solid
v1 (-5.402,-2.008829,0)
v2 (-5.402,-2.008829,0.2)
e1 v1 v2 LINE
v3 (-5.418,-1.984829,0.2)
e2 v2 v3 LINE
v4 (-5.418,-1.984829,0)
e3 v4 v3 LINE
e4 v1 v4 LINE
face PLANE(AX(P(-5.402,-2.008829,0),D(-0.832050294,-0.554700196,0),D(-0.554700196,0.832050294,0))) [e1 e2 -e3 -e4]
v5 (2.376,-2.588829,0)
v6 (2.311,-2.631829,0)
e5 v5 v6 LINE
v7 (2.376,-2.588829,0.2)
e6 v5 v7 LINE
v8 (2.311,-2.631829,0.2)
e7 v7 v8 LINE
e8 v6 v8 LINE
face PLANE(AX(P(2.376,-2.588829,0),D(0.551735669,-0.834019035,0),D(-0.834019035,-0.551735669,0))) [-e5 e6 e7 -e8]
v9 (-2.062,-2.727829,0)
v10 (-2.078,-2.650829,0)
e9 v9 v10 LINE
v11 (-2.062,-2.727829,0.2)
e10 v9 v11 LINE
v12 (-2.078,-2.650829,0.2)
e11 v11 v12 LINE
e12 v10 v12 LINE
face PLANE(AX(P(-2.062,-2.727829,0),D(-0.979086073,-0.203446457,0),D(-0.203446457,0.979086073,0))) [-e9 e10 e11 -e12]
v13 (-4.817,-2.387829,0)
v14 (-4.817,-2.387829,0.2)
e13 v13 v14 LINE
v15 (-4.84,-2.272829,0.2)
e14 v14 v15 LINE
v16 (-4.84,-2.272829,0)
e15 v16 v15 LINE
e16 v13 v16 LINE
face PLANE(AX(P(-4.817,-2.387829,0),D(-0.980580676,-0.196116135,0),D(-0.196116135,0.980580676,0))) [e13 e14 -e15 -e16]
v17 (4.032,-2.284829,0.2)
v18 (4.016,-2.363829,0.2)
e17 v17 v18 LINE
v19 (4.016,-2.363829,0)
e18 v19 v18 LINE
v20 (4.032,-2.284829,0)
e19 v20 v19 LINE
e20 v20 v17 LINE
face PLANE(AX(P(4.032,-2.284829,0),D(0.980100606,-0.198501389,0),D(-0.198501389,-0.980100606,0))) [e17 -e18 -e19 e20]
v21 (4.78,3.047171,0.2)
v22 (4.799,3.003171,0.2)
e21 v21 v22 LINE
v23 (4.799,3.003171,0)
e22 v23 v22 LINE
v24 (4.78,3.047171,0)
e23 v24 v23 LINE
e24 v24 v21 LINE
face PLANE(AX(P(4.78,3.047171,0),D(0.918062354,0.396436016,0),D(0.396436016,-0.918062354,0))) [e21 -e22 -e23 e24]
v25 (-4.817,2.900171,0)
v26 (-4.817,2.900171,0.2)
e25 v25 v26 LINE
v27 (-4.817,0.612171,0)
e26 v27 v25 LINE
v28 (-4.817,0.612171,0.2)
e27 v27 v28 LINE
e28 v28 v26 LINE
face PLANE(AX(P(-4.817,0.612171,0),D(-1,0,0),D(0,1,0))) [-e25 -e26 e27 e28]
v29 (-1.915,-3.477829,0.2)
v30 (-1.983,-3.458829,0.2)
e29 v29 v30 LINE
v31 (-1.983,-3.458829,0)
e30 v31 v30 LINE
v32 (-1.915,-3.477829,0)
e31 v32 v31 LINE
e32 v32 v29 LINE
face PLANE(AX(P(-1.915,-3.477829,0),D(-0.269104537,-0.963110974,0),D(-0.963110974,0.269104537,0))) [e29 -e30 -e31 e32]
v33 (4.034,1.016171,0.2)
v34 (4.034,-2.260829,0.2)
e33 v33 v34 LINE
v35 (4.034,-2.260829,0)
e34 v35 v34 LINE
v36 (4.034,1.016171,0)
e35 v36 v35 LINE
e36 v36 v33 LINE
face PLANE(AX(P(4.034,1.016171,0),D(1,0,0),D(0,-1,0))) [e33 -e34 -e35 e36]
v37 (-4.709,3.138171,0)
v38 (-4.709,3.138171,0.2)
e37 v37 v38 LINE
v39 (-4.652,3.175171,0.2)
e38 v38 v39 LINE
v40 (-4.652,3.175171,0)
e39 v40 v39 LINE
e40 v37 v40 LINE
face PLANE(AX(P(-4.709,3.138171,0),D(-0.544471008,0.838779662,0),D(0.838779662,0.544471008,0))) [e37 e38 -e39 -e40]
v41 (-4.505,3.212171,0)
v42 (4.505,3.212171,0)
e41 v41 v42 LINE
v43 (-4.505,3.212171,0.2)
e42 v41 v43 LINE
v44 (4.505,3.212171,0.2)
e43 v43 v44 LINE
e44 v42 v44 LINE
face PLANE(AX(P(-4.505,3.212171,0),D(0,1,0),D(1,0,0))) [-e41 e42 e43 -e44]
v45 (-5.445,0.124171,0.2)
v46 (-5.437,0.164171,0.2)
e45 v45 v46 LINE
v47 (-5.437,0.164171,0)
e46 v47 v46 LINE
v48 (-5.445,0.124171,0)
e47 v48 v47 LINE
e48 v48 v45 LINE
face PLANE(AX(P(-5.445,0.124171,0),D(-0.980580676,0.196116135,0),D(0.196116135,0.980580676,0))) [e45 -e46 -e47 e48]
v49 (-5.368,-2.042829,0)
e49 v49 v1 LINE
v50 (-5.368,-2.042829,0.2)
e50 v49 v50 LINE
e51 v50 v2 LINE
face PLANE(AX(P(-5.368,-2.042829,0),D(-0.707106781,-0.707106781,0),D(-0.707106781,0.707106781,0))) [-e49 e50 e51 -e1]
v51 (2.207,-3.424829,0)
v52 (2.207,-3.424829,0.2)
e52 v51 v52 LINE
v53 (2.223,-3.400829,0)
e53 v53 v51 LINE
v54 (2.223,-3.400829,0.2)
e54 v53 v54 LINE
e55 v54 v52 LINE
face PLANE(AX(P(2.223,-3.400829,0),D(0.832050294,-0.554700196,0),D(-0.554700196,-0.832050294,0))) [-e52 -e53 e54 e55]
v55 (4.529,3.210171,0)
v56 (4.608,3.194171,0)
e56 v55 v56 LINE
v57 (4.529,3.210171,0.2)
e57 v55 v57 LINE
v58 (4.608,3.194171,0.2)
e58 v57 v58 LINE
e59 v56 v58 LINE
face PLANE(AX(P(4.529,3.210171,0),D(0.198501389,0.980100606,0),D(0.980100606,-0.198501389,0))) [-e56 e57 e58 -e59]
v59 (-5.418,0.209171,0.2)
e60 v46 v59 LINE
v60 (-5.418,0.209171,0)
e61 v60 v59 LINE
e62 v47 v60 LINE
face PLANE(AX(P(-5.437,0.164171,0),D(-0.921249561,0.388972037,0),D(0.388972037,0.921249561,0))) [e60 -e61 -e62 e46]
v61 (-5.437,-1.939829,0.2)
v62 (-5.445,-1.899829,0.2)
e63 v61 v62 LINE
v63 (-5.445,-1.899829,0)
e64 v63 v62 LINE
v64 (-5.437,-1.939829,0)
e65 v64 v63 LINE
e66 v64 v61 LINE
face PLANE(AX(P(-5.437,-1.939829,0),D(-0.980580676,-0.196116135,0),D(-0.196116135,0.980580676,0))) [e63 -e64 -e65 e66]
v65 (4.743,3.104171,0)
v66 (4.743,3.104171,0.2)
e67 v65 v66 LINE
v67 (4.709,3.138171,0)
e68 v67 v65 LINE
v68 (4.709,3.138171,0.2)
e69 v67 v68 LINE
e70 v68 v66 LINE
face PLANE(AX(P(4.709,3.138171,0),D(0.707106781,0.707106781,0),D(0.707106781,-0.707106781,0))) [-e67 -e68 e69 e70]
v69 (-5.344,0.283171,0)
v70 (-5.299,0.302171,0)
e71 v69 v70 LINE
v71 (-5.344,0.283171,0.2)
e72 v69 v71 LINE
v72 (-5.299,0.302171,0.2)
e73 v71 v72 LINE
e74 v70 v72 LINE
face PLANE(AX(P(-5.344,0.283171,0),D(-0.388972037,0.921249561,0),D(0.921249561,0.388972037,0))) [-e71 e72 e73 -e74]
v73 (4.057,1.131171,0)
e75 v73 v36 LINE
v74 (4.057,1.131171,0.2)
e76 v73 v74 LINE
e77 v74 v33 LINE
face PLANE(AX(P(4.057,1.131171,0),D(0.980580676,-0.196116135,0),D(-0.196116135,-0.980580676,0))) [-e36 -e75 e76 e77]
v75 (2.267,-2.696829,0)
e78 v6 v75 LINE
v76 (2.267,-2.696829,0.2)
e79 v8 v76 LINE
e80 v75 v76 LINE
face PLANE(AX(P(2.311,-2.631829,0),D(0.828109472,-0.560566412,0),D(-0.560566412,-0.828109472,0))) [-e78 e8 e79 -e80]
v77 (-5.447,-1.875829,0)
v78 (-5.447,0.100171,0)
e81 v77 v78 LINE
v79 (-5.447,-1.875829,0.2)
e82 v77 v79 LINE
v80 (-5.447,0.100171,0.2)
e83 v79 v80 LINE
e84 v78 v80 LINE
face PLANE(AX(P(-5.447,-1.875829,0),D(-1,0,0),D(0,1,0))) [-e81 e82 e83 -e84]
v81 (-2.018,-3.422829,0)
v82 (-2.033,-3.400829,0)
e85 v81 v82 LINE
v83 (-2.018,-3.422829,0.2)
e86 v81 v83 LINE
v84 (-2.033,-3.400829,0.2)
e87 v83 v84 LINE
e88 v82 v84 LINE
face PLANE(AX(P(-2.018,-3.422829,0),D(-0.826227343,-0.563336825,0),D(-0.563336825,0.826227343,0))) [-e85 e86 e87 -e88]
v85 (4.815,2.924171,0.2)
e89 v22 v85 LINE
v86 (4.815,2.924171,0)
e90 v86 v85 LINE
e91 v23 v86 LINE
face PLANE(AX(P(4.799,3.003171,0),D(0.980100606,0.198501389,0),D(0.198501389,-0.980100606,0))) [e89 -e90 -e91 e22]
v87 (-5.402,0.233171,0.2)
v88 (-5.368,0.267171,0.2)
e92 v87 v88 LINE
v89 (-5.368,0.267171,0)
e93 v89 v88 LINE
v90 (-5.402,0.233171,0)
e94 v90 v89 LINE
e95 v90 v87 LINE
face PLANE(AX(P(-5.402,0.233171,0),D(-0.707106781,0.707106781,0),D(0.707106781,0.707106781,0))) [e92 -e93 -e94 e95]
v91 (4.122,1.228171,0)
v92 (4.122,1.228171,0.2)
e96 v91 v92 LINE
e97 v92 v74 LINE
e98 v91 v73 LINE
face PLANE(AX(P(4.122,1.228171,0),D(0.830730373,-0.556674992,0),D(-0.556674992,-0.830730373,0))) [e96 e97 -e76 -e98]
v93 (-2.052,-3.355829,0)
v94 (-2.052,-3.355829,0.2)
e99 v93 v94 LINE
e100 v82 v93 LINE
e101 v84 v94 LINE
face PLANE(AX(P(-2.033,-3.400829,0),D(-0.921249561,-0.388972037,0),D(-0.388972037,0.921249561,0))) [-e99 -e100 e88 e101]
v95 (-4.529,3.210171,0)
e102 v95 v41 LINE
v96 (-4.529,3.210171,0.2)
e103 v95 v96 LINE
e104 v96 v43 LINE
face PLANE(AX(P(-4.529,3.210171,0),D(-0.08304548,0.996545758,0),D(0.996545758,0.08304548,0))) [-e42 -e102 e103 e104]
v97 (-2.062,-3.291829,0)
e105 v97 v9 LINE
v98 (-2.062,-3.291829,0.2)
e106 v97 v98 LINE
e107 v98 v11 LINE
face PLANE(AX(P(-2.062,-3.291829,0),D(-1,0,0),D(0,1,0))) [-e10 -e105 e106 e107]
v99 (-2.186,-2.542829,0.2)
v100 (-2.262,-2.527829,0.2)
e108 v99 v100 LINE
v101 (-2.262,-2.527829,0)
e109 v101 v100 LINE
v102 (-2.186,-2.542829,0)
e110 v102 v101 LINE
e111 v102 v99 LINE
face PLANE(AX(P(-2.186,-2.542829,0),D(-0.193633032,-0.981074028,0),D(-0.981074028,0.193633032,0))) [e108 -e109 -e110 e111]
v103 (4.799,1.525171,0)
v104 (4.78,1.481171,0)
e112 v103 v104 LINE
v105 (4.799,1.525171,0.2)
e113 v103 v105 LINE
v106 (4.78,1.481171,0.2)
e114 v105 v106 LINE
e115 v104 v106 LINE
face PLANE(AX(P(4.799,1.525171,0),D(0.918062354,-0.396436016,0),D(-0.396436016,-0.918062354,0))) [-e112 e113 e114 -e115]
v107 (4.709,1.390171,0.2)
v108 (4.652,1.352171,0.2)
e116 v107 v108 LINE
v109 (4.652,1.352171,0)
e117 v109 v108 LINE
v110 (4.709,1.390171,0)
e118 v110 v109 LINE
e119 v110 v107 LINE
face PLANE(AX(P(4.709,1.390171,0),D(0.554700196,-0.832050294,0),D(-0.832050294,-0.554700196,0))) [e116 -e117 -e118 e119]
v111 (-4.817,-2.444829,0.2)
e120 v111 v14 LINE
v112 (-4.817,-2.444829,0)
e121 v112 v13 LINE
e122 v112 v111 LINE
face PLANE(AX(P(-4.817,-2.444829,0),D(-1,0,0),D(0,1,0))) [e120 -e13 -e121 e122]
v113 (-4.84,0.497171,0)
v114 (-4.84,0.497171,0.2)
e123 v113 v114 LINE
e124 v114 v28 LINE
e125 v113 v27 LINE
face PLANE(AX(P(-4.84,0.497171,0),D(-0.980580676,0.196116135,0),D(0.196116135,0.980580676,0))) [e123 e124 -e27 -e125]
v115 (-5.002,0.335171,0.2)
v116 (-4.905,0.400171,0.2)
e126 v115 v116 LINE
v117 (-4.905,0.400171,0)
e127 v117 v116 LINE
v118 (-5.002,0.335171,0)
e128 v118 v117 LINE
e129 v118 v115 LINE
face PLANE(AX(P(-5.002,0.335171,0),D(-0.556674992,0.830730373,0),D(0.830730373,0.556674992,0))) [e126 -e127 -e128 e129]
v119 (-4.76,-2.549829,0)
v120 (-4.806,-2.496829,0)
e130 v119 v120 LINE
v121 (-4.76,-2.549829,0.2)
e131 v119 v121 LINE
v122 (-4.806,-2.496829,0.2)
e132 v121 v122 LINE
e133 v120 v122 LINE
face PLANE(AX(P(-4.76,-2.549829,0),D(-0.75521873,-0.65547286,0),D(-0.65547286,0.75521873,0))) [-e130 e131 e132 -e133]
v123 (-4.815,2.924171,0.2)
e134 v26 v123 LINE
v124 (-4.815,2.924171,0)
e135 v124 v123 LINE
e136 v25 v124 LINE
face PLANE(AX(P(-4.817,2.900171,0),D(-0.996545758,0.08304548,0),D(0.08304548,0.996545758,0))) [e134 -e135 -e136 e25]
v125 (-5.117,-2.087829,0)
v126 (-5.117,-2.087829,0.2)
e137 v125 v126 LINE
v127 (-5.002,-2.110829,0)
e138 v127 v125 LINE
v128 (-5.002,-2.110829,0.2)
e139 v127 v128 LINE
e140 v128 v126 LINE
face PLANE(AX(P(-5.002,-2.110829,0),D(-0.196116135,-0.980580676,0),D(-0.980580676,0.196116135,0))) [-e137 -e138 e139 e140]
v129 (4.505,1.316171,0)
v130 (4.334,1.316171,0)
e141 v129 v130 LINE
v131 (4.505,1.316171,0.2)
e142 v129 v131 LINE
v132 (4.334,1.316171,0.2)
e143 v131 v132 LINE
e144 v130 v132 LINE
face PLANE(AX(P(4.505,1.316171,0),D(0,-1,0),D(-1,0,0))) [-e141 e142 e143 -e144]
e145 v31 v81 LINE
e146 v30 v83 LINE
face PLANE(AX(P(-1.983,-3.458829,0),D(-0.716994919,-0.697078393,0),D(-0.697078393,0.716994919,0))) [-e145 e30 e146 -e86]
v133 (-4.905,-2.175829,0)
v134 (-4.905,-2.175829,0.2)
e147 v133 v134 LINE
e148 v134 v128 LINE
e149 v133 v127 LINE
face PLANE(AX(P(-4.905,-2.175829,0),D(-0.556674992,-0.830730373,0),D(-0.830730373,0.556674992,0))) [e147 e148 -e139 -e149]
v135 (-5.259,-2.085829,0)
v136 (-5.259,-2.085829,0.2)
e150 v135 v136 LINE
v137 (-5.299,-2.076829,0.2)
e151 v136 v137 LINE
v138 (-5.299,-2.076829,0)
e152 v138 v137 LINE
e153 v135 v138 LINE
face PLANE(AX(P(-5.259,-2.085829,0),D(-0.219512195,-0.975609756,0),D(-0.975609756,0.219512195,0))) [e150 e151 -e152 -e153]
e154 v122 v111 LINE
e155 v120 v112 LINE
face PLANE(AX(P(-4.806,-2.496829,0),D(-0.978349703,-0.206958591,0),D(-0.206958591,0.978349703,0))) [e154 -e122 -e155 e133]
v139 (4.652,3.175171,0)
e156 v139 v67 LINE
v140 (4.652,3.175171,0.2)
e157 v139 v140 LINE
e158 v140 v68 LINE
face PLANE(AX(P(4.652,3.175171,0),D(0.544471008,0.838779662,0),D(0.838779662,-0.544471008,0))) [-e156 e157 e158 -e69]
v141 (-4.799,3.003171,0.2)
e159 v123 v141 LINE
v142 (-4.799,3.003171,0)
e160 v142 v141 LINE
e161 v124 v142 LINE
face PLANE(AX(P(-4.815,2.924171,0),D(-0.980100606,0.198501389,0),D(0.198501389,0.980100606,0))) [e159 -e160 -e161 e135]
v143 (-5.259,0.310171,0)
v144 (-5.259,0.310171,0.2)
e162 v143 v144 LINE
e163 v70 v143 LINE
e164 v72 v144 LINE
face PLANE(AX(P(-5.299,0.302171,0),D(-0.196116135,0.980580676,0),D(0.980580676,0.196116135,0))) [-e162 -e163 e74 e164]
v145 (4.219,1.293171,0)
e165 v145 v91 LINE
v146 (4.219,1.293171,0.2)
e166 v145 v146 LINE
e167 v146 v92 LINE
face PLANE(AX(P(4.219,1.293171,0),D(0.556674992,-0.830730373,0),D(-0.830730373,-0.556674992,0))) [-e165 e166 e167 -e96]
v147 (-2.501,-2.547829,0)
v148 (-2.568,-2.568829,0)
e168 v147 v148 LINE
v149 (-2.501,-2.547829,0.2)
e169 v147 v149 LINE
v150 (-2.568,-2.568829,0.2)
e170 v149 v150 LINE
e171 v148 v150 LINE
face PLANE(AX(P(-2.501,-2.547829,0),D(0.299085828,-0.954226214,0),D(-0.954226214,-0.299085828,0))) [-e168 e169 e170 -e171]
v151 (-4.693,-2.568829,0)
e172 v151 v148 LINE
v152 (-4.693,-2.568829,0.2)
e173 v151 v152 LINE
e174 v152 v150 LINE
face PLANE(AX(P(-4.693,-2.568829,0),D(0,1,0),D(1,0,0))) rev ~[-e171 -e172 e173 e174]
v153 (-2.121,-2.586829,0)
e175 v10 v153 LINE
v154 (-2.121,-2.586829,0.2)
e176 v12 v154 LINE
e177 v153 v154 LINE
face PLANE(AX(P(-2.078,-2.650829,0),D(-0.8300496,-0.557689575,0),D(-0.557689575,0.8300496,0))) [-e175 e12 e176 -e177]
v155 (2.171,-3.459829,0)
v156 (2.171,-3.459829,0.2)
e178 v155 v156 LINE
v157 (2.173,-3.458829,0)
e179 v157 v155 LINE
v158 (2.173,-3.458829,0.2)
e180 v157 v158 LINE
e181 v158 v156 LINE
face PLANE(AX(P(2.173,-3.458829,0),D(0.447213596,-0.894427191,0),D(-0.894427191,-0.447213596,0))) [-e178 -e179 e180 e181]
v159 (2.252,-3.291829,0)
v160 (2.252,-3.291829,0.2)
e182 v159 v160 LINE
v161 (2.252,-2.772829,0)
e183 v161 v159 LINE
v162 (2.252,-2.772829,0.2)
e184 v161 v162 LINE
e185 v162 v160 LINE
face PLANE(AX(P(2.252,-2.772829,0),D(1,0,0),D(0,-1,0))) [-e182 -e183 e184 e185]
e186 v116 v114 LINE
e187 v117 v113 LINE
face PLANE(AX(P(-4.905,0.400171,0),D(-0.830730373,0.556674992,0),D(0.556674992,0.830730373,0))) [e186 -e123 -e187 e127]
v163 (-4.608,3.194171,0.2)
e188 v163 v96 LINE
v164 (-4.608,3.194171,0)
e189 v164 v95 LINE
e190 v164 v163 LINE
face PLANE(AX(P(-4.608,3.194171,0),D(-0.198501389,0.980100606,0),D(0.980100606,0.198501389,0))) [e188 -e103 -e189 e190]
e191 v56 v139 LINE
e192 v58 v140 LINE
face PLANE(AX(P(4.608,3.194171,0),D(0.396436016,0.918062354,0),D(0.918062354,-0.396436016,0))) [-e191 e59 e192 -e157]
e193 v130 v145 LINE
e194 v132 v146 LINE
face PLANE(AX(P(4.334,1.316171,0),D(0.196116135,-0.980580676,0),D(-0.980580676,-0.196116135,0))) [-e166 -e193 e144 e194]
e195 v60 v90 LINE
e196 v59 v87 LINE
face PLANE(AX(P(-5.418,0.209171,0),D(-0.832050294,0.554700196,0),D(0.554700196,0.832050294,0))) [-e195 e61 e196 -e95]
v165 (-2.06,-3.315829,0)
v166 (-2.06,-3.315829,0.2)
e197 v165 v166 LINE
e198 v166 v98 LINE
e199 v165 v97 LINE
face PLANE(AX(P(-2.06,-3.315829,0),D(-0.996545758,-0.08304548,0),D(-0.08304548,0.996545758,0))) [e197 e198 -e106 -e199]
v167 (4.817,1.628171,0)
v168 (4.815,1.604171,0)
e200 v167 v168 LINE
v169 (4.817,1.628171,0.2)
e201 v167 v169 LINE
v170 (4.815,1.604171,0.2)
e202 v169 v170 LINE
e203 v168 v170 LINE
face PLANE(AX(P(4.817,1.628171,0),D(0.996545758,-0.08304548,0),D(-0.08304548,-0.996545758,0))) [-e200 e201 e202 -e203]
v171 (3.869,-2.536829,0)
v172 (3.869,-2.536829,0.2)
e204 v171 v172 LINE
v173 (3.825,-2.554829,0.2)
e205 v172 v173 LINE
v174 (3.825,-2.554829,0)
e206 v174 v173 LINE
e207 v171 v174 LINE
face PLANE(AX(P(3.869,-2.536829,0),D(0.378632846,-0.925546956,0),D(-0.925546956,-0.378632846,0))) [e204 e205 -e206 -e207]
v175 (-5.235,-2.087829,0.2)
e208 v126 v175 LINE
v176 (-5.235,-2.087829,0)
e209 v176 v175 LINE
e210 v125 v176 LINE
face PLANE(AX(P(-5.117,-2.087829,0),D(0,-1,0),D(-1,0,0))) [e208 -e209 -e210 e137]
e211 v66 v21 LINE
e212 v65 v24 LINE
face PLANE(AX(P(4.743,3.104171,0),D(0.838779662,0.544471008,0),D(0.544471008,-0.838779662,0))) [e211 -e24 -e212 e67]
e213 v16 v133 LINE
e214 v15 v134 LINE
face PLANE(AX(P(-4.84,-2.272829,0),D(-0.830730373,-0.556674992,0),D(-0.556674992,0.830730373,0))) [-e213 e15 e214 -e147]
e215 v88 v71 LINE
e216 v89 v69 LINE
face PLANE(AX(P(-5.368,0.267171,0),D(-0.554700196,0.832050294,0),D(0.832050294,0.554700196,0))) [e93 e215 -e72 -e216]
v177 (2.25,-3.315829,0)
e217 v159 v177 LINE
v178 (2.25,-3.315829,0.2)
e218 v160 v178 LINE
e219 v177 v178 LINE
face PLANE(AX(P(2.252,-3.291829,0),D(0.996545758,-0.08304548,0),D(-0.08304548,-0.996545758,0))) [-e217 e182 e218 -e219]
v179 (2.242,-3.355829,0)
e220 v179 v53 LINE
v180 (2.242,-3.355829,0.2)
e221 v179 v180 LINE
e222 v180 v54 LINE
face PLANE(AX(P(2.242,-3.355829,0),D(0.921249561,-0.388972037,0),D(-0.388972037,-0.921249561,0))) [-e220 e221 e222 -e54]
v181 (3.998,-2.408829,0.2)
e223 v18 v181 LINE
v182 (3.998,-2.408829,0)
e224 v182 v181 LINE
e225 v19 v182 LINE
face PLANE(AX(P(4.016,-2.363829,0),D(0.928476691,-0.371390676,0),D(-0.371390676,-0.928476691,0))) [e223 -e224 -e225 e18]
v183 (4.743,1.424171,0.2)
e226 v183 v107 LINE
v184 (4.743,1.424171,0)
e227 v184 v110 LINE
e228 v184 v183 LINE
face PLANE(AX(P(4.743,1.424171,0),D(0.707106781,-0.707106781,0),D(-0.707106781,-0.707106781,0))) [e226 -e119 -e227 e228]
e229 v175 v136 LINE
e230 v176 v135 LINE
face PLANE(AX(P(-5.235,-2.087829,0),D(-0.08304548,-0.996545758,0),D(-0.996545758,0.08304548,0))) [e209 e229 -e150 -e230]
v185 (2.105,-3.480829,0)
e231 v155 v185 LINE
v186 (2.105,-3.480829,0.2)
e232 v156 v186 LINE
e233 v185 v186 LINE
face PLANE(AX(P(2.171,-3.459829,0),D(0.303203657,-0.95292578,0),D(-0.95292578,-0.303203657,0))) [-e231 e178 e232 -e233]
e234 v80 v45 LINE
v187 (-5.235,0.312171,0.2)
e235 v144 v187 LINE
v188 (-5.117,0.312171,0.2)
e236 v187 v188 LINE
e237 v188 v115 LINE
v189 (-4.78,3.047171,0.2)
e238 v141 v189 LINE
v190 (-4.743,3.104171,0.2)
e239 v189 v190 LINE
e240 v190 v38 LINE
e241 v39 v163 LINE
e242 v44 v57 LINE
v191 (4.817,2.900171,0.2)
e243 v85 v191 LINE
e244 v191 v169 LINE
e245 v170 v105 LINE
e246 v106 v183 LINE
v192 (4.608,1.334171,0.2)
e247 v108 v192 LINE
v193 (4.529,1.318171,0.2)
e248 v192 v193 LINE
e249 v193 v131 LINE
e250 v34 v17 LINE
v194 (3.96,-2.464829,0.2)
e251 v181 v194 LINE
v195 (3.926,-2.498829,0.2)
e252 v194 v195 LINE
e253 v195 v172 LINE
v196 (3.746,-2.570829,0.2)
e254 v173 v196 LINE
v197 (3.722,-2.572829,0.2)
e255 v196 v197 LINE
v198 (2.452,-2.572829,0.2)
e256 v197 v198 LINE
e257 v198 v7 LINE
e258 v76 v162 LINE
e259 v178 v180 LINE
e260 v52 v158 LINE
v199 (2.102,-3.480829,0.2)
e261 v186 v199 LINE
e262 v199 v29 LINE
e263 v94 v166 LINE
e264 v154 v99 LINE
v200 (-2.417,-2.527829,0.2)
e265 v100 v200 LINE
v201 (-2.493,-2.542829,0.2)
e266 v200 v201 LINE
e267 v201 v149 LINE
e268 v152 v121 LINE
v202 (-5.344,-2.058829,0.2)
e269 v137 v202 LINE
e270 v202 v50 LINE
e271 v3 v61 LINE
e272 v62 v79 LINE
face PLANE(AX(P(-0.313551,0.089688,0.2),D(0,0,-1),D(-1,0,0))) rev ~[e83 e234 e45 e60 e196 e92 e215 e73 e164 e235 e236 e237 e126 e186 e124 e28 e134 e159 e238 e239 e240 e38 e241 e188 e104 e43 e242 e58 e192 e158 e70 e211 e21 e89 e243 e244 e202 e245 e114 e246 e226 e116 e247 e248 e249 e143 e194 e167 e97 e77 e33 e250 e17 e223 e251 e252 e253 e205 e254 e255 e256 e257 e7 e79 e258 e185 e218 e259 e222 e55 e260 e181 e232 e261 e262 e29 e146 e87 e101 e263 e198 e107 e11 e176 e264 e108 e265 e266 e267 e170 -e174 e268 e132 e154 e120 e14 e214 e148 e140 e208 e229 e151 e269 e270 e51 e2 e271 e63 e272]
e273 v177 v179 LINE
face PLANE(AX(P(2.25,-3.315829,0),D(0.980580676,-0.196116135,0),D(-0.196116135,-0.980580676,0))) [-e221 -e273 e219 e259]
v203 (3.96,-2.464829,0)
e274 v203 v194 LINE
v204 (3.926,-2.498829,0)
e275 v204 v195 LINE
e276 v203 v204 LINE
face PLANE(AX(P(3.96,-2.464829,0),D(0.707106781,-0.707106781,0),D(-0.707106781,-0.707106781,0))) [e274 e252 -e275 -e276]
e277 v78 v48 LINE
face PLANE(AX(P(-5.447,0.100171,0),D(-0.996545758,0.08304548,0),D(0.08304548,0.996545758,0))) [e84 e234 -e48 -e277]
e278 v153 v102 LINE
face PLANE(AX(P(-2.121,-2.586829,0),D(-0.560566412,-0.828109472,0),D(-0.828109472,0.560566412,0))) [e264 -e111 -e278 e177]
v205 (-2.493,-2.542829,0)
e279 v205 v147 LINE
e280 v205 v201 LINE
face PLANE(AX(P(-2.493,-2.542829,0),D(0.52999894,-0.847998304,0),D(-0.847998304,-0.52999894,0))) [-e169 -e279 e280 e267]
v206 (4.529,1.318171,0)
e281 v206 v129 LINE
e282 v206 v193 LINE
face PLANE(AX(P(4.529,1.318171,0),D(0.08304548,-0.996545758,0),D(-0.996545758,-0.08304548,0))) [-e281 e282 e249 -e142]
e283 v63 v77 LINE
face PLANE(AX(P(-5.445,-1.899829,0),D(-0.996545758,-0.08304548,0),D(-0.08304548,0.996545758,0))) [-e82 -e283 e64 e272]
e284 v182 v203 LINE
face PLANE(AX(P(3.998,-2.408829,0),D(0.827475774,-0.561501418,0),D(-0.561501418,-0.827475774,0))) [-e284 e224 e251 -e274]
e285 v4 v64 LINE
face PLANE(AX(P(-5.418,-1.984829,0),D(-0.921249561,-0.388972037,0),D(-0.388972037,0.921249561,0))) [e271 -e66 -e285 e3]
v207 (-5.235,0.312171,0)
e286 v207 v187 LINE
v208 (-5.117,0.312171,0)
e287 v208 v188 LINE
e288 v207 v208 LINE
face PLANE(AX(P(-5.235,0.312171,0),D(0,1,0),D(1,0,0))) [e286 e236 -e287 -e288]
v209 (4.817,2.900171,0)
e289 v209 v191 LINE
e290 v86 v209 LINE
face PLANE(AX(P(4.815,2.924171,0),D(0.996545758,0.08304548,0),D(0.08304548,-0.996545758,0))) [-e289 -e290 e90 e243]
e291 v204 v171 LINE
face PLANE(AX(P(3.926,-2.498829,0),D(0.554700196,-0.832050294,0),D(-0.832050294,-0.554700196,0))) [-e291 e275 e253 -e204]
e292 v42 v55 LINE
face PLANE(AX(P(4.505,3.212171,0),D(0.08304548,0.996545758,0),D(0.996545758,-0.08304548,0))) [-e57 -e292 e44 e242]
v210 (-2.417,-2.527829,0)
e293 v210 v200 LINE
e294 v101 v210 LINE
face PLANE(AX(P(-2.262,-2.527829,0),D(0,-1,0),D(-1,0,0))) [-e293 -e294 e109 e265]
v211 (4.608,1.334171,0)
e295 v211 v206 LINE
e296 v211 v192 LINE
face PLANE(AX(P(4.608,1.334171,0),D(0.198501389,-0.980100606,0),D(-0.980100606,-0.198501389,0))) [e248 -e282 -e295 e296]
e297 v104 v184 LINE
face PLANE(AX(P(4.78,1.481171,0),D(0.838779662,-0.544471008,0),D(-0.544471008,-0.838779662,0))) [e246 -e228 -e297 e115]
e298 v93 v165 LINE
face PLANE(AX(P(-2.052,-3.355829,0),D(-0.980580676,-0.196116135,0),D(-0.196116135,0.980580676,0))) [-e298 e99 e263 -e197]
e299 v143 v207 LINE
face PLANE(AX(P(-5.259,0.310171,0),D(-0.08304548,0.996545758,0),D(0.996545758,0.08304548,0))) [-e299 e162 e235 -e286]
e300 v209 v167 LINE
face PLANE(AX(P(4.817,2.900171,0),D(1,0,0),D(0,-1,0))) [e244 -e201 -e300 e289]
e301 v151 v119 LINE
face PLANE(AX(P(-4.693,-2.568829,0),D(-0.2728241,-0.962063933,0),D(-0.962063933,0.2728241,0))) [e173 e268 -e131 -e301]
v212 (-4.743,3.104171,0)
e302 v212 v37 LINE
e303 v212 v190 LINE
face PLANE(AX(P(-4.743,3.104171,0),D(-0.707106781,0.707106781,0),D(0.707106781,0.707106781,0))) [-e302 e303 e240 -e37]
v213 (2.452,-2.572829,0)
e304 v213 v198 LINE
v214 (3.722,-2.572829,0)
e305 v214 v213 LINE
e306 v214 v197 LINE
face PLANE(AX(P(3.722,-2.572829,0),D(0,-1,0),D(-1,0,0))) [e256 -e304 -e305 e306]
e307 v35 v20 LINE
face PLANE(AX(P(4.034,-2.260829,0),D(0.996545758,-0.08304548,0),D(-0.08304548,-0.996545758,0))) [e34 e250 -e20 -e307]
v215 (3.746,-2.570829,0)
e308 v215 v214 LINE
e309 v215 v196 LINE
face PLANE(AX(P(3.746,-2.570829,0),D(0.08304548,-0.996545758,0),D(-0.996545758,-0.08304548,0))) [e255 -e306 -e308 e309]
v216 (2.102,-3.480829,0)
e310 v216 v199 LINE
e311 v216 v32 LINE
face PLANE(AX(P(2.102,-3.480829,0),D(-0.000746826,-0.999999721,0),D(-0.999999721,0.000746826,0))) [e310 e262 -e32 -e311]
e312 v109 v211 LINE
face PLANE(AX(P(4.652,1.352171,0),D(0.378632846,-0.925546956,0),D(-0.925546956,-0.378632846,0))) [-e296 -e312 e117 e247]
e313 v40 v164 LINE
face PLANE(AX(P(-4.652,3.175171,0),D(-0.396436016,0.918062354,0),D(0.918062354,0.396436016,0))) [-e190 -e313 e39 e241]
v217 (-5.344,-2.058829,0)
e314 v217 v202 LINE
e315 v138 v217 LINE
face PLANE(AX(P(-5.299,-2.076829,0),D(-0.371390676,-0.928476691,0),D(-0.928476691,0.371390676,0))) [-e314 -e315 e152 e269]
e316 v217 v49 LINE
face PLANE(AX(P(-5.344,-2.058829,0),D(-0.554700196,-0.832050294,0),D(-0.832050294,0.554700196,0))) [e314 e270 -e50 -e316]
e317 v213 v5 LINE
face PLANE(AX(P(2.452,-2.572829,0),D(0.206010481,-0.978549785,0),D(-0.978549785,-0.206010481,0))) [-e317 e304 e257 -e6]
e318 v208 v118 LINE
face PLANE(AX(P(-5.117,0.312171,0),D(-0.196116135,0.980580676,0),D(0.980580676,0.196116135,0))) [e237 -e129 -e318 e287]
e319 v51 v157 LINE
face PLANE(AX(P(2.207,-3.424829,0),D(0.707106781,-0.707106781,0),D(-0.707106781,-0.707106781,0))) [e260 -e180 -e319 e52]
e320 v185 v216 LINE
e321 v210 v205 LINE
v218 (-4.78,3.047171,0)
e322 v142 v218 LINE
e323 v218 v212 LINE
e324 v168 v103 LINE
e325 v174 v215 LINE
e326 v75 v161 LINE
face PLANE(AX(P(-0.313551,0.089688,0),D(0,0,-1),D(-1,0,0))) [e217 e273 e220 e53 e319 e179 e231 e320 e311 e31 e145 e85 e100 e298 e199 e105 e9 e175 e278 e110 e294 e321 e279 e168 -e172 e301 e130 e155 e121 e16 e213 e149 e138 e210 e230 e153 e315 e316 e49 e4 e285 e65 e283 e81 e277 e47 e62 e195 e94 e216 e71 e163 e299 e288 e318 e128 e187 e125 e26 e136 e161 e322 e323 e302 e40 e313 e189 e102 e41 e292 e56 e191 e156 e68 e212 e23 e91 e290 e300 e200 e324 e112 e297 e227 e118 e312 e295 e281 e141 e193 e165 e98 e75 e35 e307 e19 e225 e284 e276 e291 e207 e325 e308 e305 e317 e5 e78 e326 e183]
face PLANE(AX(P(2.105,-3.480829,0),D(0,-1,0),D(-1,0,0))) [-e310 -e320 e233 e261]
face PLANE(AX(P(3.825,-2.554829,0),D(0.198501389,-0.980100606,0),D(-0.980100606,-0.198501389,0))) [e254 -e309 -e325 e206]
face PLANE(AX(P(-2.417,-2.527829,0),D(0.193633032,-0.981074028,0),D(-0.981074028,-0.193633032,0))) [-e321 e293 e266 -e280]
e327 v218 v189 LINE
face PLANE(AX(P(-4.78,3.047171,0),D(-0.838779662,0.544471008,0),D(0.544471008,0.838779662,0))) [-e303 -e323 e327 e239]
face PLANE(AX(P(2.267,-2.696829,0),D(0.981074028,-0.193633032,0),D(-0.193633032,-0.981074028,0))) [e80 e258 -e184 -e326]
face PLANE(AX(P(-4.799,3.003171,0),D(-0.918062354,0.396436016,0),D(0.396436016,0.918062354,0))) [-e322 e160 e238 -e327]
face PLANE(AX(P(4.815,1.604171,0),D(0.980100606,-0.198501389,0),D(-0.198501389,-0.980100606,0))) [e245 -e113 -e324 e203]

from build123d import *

# Parameters (mm, degrees)
BOSS_EXTRUDE1_DEPTH   = 0.2
BOSS_EXTRUDE1_2_DEPTH = 0.2


with BuildPart() as part:
    # Model → Boss-Extrude1 (new body)
    with BuildSketch(Plane.XY):
        Polygon((16.018, -7.896828787), (16.028, -7.902828787), (21.022, -11.541828787), (21.056, -11.580828787), (21.117, -11.686828787), (21.127, -11.709828787), (21.154, -11.790828787), (21.16, -11.845828787), (21.144, -11.968828787), (21.141, -11.986828787), (21.003, -12.477828787), (21.043, -12.827828787), (21.276, -13.254828787), (21.287, -13.282828787), (21.389, -13.673828787), (21.393, -13.702828787), (21.403, -14.128828787), (21.398, -14.165828787), (21.149, -15.015828787), (21.13, -15.055828787), (20.651, -15.696828787), (20.633, -15.716828787), (20.156, -16.126828787), (20.128, -16.144828787), (19.728, -16.335828787), (19.675, -16.347828787), (19.159, -16.347828787), (19.109, -16.337828787), (18.603, -16.117828787), (18.343, -16.037828787), (17.933, -16.107828787), (17.614, -16.474828787), (17.589, -16.496828787), (16.94, -16.929828787), (16.881, -16.950828787), (14.746, -17.127828787), (14.74, -17.127828787), (10.11, -17.127828787), (10.077, -17.122828787), (9.594, -16.986828787), (9.54, -16.954828787), (8.923, -16.337828787), (8.738, -16.337828787), (8.732, -16.335828787), (-8.046, -16.335828787), (-8.113, -16.315828787), (-8.159, -16.263828787), (-8.17, -16.211828787), (-8.17, -14.262828787), (-8.151, -14.195828787), (-8.098, -14.149828787), (-8.046, -14.138828787), (8.732, -14.138828787), (8.733, -14.137828787), (8.733, -12.396828787), (8.753, -12.329828787), (8.767, -12.311828787), (9.196, -11.856828787), (9.257, -11.821828787), (9.287, -11.817828787), (11.043, -11.817828787), (11.84, -11.212828787), (11.905, -11.187828787), (11.915, -11.187828787), (13.063, -11.187828787), (13.453, -10.907828787), (15.638, -7.967828787), (15.674, -7.934828787), (15.726, -7.903828787), (15.785, -7.886828787), (15.95, -7.879828787), align=None)
    extrude(amount=BOSS_EXTRUDE1_DEPTH)


with BuildPart() as body_2:
    # Model → Boss-Extrude1 2 (new body)
    with BuildSketch(Plane.XY):
        Polygon((4.529, 3.210171213), (4.608, 3.194171213), (4.652, 3.175171213), (4.709, 3.138171213), (4.743, 3.104171213), (4.78, 3.047171213), (4.799, 3.003171213), (4.815, 2.924171213), (4.817, 2.900171213), (4.817, 1.628171213), (4.815, 1.604171213), (4.799, 1.525171213), (4.78, 1.481171213), (4.743, 1.424171213), (4.709, 1.390171213), (4.652, 1.352171213), (4.608, 1.334171213), (4.529, 1.318171213), (4.505, 1.316171213), (4.334, 1.316171213), (4.219, 1.293171213), (4.122, 1.228171213), (4.057, 1.131171213), (4.034, 1.016171213), (4.034, -2.260828787), (4.032, -2.284828787), (4.016, -2.363828787), (3.998, -2.408828787), (3.96, -2.464828787), (3.926, -2.498828787), (3.869, -2.536828787), (3.825, -2.554828787), (3.746, -2.570828787), (3.722, -2.572828787), (2.452, -2.572828787), (2.376, -2.588828787), (2.311, -2.631828787), (2.267, -2.696828787), (2.252, -2.772828787), (2.252, -3.291828787), (2.25, -3.315828787), (2.242, -3.355828787), (2.223, -3.400828787), (2.207, -3.424828787), (2.173, -3.458828787), (2.171, -3.459828787), (2.105, -3.480828787), (2.102, -3.480828787), (-1.915, -3.477828787), (-1.983, -3.458828787), (-2.018, -3.422828787), (-2.033, -3.400828787), (-2.052, -3.355828787), (-2.06, -3.315828787), (-2.062, -3.291828787), (-2.062, -2.727828787), (-2.078, -2.650828787), (-2.121, -2.586828787), (-2.186, -2.542828787), (-2.262, -2.527828787), (-2.417, -2.527828787), (-2.493, -2.542828787), (-2.501, -2.547828787), (-2.568, -2.568828787), (-2.57, -2.568828787), (-4.693, -2.568828787), (-4.76, -2.549828787), (-4.806, -2.496828787), (-4.817, -2.444828787), (-4.817, -2.387828787), (-4.84, -2.272828787), (-4.905, -2.175828787), (-5.002, -2.110828787), (-5.117, -2.087828787), (-5.235, -2.087828787), (-5.259, -2.085828787), (-5.299, -2.076828787), (-5.344, -2.058828787), (-5.368, -2.042828787), (-5.402, -2.008828787), (-5.418, -1.984828787), (-5.437, -1.939828787), (-5.445, -1.899828787), (-5.447, -1.875828787), (-5.447, 0.100171213), (-5.445, 0.124171213), (-5.437, 0.164171213), (-5.418, 0.209171213), (-5.402, 0.233171213), (-5.368, 0.267171213), (-5.344, 0.283171213), (-5.299, 0.302171213), (-5.259, 0.310171213), (-5.235, 0.312171213), (-5.117, 0.312171213), (-5.002, 0.335171213), (-4.905, 0.400171213), (-4.84, 0.497171213), (-4.817, 0.612171213), (-4.817, 2.900171213), (-4.815, 2.924171213), (-4.799, 3.003171213), (-4.78, 3.047171213), (-4.743, 3.104171213), (-4.709, 3.138171213), (-4.652, 3.175171213), (-4.608, 3.194171213), (-4.529, 3.210171213), (-4.505, 3.212171213), (4.505, 3.212171213), align=None)
    extrude(amount=BOSS_EXTRUDE1_2_DEPTH)


solid = body_2.part
